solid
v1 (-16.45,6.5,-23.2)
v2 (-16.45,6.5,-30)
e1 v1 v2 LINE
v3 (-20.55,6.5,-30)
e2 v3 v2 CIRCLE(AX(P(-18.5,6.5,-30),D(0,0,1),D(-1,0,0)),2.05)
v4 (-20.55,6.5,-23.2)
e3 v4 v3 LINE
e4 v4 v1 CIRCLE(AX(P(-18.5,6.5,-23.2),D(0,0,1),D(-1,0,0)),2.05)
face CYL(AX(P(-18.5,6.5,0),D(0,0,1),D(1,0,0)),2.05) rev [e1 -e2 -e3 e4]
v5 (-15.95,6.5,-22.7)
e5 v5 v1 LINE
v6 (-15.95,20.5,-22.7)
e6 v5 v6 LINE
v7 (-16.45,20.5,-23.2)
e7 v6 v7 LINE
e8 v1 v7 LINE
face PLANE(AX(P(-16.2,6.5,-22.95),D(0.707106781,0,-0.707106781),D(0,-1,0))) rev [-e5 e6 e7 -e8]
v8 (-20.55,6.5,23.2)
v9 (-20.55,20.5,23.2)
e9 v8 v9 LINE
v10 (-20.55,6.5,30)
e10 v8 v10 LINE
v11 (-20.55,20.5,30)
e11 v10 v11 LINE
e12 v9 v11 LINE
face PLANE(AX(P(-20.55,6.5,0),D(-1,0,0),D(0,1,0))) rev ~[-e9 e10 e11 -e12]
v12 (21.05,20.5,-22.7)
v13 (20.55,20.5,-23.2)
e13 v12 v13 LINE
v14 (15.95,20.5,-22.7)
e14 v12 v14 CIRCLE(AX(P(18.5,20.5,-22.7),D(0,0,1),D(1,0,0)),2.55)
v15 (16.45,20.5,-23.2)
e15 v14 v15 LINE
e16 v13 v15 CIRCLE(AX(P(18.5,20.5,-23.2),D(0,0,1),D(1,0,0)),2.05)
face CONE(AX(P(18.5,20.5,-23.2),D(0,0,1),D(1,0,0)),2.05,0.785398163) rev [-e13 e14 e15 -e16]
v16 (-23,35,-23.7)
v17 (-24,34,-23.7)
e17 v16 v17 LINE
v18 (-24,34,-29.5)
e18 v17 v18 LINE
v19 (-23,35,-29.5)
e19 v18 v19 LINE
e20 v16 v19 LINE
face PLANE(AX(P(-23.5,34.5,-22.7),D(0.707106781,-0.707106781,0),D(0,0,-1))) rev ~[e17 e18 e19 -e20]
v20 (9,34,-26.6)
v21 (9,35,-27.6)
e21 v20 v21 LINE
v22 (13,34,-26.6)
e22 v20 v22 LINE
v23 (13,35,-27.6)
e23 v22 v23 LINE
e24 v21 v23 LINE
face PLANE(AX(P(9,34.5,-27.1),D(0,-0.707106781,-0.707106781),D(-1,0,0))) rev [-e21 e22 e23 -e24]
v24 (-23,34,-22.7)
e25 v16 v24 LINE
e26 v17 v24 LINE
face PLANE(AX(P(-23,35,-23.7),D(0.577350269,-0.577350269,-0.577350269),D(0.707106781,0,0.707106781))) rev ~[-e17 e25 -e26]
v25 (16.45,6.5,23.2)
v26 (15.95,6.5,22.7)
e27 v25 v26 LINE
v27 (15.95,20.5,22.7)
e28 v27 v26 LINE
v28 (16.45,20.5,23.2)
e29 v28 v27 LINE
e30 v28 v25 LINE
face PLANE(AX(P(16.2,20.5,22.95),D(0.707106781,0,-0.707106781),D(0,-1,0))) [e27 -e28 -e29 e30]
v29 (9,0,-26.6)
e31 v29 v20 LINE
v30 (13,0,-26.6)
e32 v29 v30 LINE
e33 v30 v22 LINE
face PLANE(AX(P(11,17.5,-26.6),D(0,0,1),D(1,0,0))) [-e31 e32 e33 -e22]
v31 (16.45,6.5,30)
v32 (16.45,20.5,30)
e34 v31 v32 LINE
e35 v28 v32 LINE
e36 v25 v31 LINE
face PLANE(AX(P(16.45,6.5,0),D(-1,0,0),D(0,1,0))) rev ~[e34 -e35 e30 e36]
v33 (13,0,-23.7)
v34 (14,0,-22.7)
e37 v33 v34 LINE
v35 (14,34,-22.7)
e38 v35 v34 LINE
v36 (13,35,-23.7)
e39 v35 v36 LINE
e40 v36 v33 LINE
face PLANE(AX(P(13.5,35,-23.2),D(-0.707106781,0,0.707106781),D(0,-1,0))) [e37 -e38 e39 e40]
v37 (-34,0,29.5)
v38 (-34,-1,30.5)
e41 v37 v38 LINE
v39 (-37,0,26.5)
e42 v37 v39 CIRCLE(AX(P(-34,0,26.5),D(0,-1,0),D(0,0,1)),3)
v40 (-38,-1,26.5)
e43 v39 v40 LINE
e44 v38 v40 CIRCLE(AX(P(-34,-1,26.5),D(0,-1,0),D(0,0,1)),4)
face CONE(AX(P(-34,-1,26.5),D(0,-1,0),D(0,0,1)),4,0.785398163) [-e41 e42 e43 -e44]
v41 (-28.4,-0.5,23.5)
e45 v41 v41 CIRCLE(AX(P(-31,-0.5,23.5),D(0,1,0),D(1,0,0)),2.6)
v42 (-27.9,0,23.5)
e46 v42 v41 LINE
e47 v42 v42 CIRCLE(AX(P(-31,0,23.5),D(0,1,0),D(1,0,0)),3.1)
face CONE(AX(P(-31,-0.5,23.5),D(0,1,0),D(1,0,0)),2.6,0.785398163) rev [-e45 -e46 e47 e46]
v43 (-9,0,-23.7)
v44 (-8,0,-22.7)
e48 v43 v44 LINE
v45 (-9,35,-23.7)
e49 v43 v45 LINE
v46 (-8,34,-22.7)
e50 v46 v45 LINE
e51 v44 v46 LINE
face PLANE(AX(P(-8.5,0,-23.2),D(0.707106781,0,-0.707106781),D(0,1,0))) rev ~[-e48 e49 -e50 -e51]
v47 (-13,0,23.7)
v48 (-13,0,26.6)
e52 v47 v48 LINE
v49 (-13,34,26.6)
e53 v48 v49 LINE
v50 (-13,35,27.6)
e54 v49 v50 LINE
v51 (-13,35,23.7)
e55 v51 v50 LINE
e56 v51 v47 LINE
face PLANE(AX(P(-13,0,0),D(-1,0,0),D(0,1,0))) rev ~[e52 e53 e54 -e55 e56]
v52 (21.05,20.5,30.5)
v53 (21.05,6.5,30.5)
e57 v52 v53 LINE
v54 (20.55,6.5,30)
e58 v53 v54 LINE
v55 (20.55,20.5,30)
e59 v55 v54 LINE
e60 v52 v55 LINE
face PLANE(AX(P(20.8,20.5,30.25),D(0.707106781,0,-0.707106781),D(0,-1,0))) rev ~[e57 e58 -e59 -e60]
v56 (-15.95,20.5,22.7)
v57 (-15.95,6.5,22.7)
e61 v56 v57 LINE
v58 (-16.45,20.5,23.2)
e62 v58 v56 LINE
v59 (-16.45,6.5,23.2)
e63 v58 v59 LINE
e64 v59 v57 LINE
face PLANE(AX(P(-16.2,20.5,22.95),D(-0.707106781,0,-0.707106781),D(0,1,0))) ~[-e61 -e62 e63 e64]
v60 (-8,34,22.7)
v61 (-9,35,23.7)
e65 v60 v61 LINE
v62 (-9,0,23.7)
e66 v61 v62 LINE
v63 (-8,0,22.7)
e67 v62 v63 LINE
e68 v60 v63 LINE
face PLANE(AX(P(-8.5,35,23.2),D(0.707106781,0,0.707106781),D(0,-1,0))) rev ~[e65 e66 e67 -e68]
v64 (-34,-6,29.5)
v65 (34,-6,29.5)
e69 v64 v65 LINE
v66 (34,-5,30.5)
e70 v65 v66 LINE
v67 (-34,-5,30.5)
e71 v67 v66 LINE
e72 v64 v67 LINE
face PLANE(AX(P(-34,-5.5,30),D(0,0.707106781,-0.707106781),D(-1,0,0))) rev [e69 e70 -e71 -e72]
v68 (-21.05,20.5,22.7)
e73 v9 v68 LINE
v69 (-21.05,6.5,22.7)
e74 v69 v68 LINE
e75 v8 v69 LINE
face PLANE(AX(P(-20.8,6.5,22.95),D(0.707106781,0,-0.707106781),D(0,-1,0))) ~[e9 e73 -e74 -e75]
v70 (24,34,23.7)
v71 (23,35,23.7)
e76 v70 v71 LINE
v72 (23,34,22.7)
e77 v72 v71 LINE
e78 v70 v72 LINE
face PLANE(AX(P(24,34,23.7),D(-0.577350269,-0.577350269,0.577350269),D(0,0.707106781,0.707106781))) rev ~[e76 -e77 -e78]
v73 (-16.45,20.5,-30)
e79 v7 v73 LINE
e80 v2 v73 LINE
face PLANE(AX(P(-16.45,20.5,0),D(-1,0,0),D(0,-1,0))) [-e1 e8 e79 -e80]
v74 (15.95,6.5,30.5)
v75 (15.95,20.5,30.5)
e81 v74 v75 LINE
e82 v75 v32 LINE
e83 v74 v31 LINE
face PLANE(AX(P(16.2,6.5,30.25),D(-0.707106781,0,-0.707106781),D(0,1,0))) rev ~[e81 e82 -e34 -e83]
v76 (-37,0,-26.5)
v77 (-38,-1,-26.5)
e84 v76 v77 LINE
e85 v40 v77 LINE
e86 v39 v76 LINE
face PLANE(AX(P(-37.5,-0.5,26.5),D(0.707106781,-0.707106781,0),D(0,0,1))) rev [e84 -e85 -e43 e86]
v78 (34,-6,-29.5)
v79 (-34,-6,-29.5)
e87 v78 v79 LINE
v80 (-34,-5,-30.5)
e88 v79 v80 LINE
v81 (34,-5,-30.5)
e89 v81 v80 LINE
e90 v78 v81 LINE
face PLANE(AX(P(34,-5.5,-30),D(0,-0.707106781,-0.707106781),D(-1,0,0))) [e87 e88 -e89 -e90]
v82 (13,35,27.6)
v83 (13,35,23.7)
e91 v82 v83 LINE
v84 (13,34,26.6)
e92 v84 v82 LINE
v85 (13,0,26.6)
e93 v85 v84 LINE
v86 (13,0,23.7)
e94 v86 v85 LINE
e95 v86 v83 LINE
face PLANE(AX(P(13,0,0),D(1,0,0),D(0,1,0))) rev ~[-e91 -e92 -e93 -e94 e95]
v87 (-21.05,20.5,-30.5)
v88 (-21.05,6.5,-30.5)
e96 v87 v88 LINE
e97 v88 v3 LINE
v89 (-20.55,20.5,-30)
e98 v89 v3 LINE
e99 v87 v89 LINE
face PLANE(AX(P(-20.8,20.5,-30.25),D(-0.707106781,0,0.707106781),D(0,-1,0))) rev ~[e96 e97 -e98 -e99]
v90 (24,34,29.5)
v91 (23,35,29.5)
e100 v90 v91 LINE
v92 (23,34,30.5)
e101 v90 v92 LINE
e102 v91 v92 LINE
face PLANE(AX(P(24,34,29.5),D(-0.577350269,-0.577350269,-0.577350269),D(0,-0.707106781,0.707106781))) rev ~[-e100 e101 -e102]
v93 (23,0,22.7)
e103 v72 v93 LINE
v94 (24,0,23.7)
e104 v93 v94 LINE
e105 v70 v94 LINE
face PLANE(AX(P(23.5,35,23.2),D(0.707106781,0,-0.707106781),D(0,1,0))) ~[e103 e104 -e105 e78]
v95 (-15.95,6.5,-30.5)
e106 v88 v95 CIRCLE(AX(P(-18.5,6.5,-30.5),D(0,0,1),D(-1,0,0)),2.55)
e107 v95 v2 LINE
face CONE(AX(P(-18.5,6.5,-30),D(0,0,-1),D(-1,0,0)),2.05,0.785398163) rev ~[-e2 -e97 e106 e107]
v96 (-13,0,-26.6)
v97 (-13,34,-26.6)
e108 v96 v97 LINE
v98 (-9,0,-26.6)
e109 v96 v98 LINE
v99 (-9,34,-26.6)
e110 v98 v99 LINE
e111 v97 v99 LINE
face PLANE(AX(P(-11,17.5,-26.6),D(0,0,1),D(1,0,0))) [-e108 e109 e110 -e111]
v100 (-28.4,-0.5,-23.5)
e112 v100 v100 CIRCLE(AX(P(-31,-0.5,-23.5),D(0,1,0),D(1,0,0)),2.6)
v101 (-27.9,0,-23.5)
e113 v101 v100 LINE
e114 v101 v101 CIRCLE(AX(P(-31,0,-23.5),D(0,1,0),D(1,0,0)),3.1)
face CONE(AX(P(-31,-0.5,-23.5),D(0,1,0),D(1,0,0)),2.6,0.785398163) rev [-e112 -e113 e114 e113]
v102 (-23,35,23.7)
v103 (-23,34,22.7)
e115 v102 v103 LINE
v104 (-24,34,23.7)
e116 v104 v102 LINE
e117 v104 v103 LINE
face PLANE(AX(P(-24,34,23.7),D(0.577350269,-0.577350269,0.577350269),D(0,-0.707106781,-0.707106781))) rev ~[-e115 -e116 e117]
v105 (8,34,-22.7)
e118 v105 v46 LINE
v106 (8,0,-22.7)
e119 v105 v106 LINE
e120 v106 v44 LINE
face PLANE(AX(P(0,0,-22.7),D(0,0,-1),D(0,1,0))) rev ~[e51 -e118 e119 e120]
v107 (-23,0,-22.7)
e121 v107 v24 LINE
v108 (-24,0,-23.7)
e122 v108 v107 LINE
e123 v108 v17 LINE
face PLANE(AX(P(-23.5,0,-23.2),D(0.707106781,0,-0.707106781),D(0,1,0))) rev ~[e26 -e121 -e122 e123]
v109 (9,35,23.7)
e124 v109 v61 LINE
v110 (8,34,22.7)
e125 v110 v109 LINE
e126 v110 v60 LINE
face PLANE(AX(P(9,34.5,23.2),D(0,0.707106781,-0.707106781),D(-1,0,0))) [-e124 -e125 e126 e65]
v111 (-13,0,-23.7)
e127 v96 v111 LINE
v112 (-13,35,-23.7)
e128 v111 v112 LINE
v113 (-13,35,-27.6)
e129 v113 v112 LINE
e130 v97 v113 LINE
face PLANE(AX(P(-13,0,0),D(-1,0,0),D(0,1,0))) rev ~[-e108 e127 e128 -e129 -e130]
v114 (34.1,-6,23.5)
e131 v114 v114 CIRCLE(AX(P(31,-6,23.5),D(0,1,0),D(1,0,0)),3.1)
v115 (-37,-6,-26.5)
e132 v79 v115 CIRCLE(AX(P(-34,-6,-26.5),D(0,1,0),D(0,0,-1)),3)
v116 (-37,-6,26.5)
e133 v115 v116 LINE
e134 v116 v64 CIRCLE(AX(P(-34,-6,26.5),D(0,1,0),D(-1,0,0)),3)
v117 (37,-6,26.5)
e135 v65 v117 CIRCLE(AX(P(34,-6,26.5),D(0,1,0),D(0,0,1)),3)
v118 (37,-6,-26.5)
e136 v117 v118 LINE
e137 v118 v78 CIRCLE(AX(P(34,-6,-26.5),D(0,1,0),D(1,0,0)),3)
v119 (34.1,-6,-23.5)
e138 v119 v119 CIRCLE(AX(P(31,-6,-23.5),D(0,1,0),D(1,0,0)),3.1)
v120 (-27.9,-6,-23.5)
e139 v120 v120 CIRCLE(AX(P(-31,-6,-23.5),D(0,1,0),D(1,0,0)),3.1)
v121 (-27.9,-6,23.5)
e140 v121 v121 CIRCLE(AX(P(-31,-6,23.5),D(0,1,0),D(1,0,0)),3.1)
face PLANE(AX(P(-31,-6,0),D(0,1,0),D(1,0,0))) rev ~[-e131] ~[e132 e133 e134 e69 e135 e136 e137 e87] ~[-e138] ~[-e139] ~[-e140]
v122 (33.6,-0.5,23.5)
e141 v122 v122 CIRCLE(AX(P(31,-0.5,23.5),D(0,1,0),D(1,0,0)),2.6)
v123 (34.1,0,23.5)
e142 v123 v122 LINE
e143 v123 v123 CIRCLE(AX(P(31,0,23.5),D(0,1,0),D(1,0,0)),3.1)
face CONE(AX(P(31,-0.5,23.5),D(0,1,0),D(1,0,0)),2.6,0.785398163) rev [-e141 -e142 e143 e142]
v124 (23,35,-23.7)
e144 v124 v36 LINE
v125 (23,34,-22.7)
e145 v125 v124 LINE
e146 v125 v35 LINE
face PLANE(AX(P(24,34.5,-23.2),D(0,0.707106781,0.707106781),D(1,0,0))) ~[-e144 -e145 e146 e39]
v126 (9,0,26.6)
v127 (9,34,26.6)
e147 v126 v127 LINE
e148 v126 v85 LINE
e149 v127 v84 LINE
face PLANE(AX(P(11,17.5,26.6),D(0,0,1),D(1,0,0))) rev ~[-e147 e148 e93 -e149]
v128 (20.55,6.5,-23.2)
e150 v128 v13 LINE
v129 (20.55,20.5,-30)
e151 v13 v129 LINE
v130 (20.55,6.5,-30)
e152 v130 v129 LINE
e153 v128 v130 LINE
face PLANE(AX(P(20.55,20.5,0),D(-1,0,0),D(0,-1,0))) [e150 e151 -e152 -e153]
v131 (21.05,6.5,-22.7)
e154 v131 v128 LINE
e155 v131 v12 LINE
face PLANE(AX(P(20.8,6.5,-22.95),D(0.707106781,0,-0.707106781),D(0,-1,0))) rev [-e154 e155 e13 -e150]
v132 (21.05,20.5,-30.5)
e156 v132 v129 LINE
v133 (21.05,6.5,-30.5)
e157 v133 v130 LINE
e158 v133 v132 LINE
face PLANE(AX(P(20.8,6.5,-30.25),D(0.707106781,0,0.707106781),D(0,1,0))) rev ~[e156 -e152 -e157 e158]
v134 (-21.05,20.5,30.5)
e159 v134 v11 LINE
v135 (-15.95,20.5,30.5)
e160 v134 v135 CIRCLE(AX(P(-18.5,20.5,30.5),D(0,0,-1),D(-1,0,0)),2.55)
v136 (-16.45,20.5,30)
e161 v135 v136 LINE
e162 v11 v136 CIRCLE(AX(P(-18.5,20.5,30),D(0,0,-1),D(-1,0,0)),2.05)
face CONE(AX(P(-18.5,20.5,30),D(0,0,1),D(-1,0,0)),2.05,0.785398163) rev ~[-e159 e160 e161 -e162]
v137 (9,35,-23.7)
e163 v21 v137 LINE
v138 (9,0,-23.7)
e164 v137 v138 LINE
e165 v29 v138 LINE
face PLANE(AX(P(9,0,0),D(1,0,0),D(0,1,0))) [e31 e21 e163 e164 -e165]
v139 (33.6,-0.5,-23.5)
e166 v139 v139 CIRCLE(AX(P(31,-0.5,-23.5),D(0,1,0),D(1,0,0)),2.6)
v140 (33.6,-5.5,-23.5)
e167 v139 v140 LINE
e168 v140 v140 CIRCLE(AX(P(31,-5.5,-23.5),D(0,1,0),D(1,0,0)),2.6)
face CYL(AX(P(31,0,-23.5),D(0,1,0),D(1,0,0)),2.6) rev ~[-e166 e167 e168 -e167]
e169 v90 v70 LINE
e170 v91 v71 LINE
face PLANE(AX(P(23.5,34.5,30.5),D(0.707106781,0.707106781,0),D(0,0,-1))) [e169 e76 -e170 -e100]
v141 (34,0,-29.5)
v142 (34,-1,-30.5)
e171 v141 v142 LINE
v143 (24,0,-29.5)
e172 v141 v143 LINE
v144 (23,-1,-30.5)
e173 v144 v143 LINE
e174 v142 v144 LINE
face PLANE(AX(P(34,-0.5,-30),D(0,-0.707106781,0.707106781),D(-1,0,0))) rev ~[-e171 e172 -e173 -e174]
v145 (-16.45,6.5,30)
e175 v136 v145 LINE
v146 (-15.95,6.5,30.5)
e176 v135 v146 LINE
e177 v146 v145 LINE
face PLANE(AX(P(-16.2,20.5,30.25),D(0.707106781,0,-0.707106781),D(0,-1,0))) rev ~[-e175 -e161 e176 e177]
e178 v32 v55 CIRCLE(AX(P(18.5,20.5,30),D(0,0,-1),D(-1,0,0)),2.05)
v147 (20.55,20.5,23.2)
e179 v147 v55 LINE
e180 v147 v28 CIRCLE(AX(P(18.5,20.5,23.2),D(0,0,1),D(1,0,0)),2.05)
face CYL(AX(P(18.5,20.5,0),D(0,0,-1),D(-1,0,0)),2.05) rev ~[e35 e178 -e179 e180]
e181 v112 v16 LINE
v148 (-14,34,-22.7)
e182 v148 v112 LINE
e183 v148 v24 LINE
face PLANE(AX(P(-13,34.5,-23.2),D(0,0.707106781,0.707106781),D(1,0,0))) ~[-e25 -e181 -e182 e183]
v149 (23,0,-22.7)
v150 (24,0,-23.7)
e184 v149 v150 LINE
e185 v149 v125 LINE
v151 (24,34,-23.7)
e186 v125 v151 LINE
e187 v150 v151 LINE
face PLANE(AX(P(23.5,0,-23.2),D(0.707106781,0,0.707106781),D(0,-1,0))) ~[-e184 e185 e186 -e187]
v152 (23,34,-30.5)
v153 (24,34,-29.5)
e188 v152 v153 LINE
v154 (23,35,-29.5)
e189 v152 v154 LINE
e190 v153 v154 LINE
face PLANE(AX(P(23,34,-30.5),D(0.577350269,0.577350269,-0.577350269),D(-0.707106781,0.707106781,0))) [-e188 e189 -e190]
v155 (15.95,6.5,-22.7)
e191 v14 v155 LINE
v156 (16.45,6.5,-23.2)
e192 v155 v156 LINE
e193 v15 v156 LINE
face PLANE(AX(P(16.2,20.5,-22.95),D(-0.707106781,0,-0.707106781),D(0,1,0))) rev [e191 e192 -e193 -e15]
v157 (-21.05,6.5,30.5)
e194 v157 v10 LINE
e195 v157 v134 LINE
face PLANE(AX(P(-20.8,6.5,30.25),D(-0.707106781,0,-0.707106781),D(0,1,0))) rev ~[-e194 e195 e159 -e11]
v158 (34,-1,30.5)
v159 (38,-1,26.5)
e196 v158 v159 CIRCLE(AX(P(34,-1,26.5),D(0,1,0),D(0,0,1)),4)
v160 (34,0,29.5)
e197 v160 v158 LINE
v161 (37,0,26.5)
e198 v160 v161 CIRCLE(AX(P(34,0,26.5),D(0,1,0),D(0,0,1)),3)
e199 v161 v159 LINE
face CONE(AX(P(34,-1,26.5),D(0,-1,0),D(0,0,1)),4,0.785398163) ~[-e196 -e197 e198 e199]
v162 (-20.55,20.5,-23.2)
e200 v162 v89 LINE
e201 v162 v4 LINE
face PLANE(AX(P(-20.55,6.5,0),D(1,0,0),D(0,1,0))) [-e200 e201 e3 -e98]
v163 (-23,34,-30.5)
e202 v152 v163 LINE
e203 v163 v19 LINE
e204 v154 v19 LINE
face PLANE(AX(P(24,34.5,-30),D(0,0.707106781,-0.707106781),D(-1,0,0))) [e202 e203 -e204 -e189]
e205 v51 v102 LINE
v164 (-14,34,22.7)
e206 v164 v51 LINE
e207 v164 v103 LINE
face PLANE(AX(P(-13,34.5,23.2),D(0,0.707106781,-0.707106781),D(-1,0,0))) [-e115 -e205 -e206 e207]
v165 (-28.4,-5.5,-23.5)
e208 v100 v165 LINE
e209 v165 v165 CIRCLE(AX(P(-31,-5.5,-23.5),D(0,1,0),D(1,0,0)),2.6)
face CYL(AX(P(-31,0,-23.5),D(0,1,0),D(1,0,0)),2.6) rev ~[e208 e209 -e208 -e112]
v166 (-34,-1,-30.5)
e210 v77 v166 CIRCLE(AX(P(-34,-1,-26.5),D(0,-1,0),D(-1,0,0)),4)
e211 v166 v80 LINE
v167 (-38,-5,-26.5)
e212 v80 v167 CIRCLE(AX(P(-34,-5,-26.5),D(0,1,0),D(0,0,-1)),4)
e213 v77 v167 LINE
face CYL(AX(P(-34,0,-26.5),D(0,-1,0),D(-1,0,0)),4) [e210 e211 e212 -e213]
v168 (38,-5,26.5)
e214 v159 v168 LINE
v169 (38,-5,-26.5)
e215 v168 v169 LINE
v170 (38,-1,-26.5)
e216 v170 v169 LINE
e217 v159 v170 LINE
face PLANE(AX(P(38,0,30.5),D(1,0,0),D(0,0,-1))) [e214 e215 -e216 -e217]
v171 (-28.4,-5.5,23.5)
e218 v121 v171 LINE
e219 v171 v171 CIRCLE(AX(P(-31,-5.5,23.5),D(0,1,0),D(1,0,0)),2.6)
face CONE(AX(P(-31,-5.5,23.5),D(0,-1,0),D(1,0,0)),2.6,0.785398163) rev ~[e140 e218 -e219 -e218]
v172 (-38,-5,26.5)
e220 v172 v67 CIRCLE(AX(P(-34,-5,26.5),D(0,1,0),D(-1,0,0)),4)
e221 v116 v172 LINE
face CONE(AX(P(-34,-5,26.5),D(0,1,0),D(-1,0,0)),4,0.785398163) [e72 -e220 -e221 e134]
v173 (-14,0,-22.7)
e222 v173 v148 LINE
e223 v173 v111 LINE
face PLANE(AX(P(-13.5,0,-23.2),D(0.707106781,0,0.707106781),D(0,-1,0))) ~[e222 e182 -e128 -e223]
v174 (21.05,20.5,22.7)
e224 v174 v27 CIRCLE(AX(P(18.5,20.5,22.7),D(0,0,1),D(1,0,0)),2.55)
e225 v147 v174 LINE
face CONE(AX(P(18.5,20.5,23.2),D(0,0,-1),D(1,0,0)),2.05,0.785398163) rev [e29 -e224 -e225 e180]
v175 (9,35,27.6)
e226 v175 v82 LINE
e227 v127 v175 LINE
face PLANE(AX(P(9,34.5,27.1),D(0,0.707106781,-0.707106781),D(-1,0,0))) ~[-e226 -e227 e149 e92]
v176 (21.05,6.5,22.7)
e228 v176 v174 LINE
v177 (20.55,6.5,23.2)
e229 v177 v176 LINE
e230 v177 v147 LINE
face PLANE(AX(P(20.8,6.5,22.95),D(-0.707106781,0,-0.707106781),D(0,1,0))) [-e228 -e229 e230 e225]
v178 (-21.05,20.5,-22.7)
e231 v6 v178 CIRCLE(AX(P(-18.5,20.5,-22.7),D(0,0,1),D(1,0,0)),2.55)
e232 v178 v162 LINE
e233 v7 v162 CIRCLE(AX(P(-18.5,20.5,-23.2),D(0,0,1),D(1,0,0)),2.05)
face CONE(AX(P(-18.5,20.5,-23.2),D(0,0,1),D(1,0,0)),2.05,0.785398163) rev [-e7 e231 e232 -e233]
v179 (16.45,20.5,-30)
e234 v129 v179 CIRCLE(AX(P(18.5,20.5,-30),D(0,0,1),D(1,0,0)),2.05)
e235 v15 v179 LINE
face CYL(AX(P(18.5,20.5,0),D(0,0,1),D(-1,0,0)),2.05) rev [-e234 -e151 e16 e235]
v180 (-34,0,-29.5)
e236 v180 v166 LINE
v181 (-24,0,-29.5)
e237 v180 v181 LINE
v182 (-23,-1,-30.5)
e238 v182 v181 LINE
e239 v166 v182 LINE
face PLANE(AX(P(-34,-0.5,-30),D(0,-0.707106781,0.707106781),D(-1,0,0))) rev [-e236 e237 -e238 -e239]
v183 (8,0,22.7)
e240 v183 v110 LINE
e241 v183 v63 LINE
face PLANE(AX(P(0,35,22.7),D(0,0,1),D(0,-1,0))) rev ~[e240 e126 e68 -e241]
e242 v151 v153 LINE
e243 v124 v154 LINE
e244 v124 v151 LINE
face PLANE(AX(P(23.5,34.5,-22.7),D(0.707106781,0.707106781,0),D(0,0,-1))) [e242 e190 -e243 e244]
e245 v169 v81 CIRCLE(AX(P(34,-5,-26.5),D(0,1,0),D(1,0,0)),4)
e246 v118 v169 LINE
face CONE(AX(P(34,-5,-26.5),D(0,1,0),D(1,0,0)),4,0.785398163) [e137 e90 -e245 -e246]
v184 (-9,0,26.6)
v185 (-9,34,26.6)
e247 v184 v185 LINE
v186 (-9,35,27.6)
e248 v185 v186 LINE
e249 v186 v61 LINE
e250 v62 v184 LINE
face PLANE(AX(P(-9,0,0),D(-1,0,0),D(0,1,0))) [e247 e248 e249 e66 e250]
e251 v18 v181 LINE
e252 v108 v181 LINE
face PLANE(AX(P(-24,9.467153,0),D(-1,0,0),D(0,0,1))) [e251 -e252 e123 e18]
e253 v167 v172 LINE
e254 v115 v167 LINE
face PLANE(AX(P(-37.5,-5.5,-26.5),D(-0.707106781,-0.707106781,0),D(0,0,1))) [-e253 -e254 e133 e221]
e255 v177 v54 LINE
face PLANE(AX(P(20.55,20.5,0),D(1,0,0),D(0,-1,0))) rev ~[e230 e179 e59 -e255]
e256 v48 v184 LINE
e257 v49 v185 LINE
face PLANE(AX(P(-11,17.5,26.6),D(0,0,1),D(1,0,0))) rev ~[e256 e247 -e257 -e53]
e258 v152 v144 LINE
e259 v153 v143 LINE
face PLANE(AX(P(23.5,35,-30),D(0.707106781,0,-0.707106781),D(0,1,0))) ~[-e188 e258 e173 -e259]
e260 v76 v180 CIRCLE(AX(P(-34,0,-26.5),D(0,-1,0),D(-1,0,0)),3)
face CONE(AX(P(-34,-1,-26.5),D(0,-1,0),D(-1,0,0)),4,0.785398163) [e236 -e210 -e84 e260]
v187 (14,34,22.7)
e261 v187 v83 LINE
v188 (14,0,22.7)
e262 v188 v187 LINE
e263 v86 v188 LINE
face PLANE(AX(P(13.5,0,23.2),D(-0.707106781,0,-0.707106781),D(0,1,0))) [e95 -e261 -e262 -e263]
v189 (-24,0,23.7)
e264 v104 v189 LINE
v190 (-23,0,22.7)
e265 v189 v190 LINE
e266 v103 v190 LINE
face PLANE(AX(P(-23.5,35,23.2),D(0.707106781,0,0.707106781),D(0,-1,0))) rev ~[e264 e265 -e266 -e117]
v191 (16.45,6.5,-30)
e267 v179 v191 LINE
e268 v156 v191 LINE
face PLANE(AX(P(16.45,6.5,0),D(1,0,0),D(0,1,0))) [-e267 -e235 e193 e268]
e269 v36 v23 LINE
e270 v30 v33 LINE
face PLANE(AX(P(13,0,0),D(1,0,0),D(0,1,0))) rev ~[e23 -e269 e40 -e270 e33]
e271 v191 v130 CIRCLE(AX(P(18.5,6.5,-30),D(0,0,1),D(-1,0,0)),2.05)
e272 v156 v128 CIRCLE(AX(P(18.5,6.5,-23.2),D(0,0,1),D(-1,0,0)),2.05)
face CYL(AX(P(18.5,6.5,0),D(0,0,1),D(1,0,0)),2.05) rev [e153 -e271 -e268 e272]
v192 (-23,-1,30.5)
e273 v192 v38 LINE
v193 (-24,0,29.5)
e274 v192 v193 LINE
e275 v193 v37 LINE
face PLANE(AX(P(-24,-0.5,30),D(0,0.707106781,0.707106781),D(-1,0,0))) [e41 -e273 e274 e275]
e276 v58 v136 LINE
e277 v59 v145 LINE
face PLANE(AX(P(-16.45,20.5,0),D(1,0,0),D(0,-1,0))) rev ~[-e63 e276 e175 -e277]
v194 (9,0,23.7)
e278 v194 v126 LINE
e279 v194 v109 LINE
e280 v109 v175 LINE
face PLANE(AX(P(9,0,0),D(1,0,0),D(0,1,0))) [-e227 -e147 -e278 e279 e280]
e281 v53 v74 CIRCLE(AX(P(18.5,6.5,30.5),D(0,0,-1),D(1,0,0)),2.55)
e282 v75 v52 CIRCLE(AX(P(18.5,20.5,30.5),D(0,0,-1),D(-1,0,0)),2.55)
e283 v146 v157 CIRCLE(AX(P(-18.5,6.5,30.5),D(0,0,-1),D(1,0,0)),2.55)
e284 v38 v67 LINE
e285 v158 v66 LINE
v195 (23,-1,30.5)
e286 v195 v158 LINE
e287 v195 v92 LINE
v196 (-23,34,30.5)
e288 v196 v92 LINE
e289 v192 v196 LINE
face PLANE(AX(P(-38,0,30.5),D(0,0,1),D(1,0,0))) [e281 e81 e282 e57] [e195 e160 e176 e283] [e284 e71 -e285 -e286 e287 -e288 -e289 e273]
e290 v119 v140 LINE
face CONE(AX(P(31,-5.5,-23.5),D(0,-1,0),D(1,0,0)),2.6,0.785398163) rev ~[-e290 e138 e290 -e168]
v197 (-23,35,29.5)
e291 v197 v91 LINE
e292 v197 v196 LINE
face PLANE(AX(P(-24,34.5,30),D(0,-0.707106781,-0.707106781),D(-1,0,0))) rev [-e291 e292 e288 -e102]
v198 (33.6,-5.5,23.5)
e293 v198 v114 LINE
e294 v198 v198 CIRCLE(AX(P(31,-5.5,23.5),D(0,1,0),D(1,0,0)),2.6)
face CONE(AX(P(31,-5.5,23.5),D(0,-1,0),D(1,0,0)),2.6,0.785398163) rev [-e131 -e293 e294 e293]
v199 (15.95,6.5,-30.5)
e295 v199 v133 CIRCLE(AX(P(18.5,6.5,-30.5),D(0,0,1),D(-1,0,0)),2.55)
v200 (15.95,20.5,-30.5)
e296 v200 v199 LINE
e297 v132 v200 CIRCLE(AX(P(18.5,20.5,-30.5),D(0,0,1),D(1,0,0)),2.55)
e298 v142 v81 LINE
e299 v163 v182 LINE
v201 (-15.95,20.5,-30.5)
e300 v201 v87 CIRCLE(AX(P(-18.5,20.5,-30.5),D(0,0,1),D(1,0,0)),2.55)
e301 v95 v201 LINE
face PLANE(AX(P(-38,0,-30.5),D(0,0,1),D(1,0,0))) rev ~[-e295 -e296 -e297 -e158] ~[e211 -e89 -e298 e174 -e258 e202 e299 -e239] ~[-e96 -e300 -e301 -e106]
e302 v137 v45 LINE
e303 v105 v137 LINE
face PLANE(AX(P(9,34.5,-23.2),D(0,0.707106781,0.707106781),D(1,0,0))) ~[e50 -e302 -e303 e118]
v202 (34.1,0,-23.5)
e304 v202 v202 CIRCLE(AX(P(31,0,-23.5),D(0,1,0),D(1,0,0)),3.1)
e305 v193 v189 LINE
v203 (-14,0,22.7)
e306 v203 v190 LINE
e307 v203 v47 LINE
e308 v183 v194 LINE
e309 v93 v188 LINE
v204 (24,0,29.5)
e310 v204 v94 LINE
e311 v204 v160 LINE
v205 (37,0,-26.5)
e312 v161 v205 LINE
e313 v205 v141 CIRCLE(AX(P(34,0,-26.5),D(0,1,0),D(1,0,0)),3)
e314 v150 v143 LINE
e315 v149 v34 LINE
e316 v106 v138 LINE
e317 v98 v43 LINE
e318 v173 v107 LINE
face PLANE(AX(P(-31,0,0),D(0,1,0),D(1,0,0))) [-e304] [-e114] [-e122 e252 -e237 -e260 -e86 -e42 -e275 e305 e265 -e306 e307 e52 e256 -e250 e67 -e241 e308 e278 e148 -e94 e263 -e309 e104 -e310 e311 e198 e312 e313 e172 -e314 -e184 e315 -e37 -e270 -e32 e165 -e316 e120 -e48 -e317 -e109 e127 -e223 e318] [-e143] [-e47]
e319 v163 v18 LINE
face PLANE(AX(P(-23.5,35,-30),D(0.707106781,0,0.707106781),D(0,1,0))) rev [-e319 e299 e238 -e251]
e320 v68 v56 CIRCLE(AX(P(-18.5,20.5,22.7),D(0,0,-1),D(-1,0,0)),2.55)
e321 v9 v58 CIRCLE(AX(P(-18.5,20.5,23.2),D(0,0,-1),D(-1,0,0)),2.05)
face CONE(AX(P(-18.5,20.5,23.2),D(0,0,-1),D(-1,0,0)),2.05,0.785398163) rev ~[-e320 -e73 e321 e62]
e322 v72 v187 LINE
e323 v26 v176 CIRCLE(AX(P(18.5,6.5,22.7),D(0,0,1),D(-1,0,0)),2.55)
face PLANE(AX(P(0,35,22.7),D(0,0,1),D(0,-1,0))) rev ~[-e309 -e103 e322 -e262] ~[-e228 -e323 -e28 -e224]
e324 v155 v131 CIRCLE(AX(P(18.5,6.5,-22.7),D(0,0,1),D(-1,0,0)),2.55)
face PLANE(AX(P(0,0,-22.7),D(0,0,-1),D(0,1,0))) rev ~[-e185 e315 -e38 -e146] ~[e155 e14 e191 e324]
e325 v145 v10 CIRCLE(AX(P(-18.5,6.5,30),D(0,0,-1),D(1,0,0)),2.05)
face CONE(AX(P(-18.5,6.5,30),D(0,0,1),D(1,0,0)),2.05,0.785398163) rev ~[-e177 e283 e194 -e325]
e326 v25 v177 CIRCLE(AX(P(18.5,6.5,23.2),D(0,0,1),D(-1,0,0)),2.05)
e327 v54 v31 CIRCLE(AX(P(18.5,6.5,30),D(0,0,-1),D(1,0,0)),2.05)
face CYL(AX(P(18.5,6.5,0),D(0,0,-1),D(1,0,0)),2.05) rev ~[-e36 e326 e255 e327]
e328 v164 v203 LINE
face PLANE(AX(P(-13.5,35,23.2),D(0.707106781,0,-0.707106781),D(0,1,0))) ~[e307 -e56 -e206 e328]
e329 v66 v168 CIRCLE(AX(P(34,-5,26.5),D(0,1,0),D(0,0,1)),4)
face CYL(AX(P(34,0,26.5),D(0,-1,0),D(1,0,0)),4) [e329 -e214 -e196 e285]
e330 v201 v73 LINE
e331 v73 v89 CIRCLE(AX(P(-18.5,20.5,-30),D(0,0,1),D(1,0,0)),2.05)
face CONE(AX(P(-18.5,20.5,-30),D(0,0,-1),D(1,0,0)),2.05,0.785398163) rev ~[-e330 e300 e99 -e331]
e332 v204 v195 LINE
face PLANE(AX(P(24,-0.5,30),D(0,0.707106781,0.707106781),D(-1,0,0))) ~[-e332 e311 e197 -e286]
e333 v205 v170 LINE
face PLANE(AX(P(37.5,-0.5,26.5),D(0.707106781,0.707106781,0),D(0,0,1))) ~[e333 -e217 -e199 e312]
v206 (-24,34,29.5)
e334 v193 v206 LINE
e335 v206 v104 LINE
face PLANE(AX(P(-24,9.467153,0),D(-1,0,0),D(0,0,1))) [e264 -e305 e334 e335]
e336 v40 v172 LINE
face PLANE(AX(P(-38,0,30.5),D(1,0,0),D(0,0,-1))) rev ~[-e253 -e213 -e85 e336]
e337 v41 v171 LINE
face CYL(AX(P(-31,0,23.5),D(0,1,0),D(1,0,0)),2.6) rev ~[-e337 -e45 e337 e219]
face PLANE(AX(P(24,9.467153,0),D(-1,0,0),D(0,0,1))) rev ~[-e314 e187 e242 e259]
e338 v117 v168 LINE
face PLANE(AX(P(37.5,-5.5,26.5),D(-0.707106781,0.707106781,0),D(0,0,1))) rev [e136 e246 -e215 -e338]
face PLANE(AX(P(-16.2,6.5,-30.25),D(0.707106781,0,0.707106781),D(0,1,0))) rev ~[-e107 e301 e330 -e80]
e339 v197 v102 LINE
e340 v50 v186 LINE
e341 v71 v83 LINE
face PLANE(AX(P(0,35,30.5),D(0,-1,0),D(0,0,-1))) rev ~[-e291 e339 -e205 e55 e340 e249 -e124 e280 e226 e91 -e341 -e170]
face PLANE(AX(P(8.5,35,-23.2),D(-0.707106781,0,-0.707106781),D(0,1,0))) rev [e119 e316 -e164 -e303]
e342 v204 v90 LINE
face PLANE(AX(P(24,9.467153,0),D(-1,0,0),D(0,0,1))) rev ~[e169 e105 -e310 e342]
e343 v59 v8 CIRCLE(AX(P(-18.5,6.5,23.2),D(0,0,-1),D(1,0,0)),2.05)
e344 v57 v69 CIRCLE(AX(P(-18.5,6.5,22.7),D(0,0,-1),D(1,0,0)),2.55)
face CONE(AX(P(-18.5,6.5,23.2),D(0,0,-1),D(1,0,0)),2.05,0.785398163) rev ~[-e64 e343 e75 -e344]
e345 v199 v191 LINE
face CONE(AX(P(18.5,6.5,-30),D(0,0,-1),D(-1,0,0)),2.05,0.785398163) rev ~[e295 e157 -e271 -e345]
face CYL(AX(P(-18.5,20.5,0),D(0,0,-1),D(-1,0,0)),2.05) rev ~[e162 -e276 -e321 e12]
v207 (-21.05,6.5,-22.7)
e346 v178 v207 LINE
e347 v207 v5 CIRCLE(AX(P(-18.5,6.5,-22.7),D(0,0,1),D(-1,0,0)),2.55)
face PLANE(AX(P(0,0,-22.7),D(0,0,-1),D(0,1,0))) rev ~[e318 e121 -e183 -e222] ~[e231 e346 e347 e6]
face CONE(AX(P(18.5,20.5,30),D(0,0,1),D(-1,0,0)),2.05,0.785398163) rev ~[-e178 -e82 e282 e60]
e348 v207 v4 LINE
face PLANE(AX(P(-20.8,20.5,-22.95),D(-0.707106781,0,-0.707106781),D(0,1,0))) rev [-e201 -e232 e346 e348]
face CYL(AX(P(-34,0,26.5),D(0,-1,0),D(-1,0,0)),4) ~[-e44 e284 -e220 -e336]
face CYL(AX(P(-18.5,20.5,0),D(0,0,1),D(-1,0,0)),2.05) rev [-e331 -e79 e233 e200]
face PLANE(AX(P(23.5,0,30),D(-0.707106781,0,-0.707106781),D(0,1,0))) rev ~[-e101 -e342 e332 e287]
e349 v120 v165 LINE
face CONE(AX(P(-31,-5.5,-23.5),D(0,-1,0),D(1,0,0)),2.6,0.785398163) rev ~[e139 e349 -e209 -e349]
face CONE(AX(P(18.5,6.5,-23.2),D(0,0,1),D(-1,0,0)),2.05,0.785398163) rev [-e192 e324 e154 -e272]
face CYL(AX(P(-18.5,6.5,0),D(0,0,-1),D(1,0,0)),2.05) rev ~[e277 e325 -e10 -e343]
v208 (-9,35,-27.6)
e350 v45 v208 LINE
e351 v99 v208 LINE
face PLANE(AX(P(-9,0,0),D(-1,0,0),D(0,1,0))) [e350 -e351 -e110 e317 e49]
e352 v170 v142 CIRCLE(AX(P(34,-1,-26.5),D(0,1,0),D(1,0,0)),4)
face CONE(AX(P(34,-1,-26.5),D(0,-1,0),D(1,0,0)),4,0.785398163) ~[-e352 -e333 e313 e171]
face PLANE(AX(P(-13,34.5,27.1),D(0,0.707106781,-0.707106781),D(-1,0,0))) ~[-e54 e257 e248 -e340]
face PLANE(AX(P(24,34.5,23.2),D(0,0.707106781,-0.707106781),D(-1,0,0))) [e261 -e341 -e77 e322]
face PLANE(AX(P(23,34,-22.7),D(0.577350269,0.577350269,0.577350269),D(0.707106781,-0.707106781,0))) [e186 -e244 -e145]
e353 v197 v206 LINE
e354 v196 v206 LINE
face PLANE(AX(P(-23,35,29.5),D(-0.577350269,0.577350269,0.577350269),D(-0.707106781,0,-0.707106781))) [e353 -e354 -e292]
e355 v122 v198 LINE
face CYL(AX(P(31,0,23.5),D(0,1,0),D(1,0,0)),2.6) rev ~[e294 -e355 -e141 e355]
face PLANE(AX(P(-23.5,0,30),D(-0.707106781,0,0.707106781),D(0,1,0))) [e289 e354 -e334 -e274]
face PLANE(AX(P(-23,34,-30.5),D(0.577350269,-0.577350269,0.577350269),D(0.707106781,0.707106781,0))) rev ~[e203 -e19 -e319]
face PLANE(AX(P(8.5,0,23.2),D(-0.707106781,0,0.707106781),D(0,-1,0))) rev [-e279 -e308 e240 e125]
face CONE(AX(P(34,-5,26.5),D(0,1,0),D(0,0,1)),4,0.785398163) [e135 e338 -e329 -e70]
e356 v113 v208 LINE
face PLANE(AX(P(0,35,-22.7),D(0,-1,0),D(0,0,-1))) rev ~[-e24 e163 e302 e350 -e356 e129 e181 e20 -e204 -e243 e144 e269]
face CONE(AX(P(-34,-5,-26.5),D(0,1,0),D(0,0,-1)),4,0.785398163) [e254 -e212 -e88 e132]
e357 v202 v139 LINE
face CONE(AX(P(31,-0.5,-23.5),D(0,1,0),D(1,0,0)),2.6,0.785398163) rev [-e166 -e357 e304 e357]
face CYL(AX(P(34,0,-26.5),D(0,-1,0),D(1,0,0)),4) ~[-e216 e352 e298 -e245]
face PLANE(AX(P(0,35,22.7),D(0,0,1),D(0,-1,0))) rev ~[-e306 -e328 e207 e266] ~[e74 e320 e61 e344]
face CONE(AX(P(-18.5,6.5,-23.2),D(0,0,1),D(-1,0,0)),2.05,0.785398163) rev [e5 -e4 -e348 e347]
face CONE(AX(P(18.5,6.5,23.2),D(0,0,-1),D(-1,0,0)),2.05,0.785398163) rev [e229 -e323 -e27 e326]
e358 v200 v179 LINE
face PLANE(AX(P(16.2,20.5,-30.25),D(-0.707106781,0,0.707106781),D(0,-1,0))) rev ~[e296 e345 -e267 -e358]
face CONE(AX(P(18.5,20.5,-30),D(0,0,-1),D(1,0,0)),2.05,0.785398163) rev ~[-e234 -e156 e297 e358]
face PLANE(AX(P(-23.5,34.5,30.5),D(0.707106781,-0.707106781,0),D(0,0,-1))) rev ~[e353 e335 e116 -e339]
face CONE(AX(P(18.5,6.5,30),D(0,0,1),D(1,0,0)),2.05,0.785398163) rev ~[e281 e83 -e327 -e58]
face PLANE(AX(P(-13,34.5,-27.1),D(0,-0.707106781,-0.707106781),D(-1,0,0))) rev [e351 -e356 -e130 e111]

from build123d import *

# Parameters (mm, degrees)
BOSS_EXTRUDE1_DEPTH     = 24
SKETCH3_W               = 4
SKETCH3_H               = 35
CUT_EXTRUDE1_DEPTH      = 26.6
CUT_EXTRUDE2_DEPTH      = 31.5
CUT_EXTRUDE2_DEPTH_BACK = 31.5
SKETCH5_W               = 14
SKETCH5_H               = 61
SKETCH5_R               = 2.6
BOSS_EXTRUDE2_DEPTH     = 6
FILLET1_R               = 4
CHAMFER1_SIZE           = 1
CHAMFER2_SIZE           = 0.5


with BuildPart() as part:
    # Sketch2 → Boss-Extrude1 (new body, symmetric)
    with BuildSketch(Plane(origin=(0, 0, 0), x_dir=(0, 0, -1), z_dir=(1, 0, 0))):
        Polygon((-30.5, 35), (-22.7, 35), (-22.7, 0), (0, 0), (22.7, 0), (22.7, 35), (30.5, 35), (30.5, -6), (-30.5, -6), align=None)
    extrude(amount=BOSS_EXTRUDE1_DEPTH, both=True)

    # Sketch3 → Cut-Extrude1 (cut, symmetric)
    with BuildSketch(Plane.XY):
        with Locations((-11, 17.5)):
            Rectangle(SKETCH3_W, SKETCH3_H)
        with Locations((11, 17.5)):
            Rectangle(SKETCH3_W, SKETCH3_H)
    extrude(amount=CUT_EXTRUDE1_DEPTH, both=True, mode=Mode.SUBTRACT)

    # Sketch4 → Cut-Extrude2 (cut, two sides)
    with BuildSketch(Plane.XY) as cut_extrude2_sk:
        with BuildLine():
            Line((-16.45, 20.5), (-16.45, 6.5))
            ThreePointArc((-16.45, 6.5), (-18.5, 4.45), (-20.55, 6.5))
            Line((-20.55, 6.5), (-20.55, 20.5))
            ThreePointArc((-20.55, 20.5), (-18.5, 22.55), (-16.45, 20.5))
        make_face()
        with BuildLine():
            Line((20.55, 20.5), (20.55, 6.5))
            ThreePointArc((20.55, 6.5), (18.5, 4.45), (16.45, 6.5))
            Line((16.45, 6.5), (16.45, 20.5))
            ThreePointArc((16.45, 20.5), (18.5, 22.55), (20.55, 20.5))
        make_face()
    extrude(amount=CUT_EXTRUDE2_DEPTH, mode=Mode.SUBTRACT)
    extrude(cut_extrude2_sk.sketch, amount=-CUT_EXTRUDE2_DEPTH_BACK, mode=Mode.SUBTRACT)

    # Sketch5 → Boss-Extrude2 (add)
    with BuildSketch(Plane(origin=(0, 0, 0), x_dir=(1, 0, 0), z_dir=(0, 1, 0))):
        with Locations((-31, 0)):
            Rectangle(SKETCH5_W, SKETCH5_H)
        with Locations((-31, 23.5)):
            Circle(SKETCH5_R, mode=Mode.SUBTRACT)
        with Locations((-31, -23.5)):
            Circle(SKETCH5_R, mode=Mode.SUBTRACT)
        with Locations((31, 0)):
            Rectangle(SKETCH5_W, SKETCH5_H)
        with Locations((31, 23.5)):
            Circle(SKETCH5_R, mode=Mode.SUBTRACT)
        with Locations((31, -23.5)):
            Circle(SKETCH5_R, mode=Mode.SUBTRACT)
    extrude(amount=-BOSS_EXTRUDE2_DEPTH)

    # Fillet1
    fillet1_edges = [part.edges().sort_by_distance(p)[0] for p in [
        (-38, -3, -30.5),
        (-38, -3, 30.5),
        (38, -3, 30.5),
        (38, -3, -30.5),
    ]]
    fillet(fillet1_edges, radius=FILLET1_R)

    # Chamfer1
    chamfer1_edges = [part.edges().sort_by_distance(p)[0] for p in [
        (-24, 17.5, -22.7),
        (-24, 35, -26.6),
        (-24, 17.5, 30.5),
        (24, 35, -26.6),
        (-24, 17.5, -30.5),
        (-29, 0, -30.5),
        (0, 35, 30.5),
        (18.5, 35, 22.7),
        (24, 17.5, -30.5),
        (18.5, 35, -22.7),
        (29, 0, 30.5),
        (0, 35, -30.5),
        (24, 17.5, -22.7),
        (0, -6, -30.5),
        (29, 0, -30.5),
        (-38, 0, 0),
        (-29, 0, 30.5),
        (38, 0, 0),
        (36.828427125, 0, 29.328427125),
        (36.828427125, 0, -29.328427125),
        (-36.828427125, 0, 29.328427125),
        (-36.828427125, 0, -29.328427125),
        (-38, -6, 0),
        (0, -6, 30.5),
        (38, -6, 0),
        (36.828427125, -6, 29.328427125),
        (36.828427125, -6, -29.328427125),
        (-36.828427125, -6, 29.328427125),
        (-36.828427125, -6, -29.328427125),
        (24, 17.5, 22.7),
        (0, 35, 22.7),
        (24, 35, 26.6),
        (-18.5, 35, 22.7),
        (0, 35, -22.7),
        (-18.5, 35, -22.7),
        (24, 17.5, 30.5),
        (-11, 35, -26.6),
        (-13, 17.5, -22.7),
        (-13, 17.5, 22.7),
        (-9, 17.5, -22.7),
        (-9, 17.5, 22.7),
        (-11, 35, 26.6),
        (11, 35, -26.6),
        (9, 17.5, -22.7),
        (9, 17.5, 22.7),
        (13, 17.5, -22.7),
        (13, 17.5, 22.7),
        (11, 35, 26.6),
        (-24, 35, 26.6),
        (-24, 17.5, 22.7),
    ]]
    chamfer(chamfer1_edges, length=CHAMFER1_SIZE)

    # Chamfer2
    chamfer2_edges = [part.edges().sort_by_distance(p)[0] for p in [
        (-18.5, 22.55, 30.5),
        (-20.55, 13.5, 30.5),
        (-18.5, 4.45, 30.5),
        (-16.45, 13.5, 30.5),
        (18.5, 22.55, -22.7),
        (18.5, 22.55, -30.5),
        (20.55, 13.5, -22.7),
        (20.55, 13.5, -30.5),
        (18.5, 4.45, -22.7),
        (18.5, 4.45, -30.5),
        (16.45, 13.5, -22.7),
        (16.45, 13.5, -30.5),
        (18.5, 22.55, 30.5),
        (16.45, 13.5, 30.5),
        (18.5, 4.45, 30.5),
        (20.55, 13.5, 30.5),
        (-33.6, -6, -23.5),
        (-33.6, 0, -23.5),
        (-33.6, -6, 23.5),
        (-33.6, 0, 23.5),
        (28.4, -6, -23.5),
        (28.4, 0, -23.5),
        (28.4, -6, 23.5),
        (28.4, 0, 23.5),
        (16.45, 13.5, 22.7),
        (18.5, 4.45, 22.7),
        (20.55, 13.5, 22.7),
        (18.5, 22.55, 22.7),
        (-18.5, 22.55, -22.7),
        (-18.5, 22.55, -30.5),
        (-18.5, 22.55, 22.7),
        (-16.45, 13.5, -22.7),
        (-16.45, 13.5, -30.5),
        (-16.45, 13.5, 22.7),
        (-18.5, 4.45, -22.7),
        (-18.5, 4.45, -30.5),
        (-18.5, 4.45, 22.7),
        (-20.55, 13.5, -22.7),
        (-20.55, 13.5, -30.5),
        (-20.55, 13.5, 22.7),
    ]]
    chamfer(chamfer2_edges, length=CHAMFER2_SIZE)


solid = part.part
